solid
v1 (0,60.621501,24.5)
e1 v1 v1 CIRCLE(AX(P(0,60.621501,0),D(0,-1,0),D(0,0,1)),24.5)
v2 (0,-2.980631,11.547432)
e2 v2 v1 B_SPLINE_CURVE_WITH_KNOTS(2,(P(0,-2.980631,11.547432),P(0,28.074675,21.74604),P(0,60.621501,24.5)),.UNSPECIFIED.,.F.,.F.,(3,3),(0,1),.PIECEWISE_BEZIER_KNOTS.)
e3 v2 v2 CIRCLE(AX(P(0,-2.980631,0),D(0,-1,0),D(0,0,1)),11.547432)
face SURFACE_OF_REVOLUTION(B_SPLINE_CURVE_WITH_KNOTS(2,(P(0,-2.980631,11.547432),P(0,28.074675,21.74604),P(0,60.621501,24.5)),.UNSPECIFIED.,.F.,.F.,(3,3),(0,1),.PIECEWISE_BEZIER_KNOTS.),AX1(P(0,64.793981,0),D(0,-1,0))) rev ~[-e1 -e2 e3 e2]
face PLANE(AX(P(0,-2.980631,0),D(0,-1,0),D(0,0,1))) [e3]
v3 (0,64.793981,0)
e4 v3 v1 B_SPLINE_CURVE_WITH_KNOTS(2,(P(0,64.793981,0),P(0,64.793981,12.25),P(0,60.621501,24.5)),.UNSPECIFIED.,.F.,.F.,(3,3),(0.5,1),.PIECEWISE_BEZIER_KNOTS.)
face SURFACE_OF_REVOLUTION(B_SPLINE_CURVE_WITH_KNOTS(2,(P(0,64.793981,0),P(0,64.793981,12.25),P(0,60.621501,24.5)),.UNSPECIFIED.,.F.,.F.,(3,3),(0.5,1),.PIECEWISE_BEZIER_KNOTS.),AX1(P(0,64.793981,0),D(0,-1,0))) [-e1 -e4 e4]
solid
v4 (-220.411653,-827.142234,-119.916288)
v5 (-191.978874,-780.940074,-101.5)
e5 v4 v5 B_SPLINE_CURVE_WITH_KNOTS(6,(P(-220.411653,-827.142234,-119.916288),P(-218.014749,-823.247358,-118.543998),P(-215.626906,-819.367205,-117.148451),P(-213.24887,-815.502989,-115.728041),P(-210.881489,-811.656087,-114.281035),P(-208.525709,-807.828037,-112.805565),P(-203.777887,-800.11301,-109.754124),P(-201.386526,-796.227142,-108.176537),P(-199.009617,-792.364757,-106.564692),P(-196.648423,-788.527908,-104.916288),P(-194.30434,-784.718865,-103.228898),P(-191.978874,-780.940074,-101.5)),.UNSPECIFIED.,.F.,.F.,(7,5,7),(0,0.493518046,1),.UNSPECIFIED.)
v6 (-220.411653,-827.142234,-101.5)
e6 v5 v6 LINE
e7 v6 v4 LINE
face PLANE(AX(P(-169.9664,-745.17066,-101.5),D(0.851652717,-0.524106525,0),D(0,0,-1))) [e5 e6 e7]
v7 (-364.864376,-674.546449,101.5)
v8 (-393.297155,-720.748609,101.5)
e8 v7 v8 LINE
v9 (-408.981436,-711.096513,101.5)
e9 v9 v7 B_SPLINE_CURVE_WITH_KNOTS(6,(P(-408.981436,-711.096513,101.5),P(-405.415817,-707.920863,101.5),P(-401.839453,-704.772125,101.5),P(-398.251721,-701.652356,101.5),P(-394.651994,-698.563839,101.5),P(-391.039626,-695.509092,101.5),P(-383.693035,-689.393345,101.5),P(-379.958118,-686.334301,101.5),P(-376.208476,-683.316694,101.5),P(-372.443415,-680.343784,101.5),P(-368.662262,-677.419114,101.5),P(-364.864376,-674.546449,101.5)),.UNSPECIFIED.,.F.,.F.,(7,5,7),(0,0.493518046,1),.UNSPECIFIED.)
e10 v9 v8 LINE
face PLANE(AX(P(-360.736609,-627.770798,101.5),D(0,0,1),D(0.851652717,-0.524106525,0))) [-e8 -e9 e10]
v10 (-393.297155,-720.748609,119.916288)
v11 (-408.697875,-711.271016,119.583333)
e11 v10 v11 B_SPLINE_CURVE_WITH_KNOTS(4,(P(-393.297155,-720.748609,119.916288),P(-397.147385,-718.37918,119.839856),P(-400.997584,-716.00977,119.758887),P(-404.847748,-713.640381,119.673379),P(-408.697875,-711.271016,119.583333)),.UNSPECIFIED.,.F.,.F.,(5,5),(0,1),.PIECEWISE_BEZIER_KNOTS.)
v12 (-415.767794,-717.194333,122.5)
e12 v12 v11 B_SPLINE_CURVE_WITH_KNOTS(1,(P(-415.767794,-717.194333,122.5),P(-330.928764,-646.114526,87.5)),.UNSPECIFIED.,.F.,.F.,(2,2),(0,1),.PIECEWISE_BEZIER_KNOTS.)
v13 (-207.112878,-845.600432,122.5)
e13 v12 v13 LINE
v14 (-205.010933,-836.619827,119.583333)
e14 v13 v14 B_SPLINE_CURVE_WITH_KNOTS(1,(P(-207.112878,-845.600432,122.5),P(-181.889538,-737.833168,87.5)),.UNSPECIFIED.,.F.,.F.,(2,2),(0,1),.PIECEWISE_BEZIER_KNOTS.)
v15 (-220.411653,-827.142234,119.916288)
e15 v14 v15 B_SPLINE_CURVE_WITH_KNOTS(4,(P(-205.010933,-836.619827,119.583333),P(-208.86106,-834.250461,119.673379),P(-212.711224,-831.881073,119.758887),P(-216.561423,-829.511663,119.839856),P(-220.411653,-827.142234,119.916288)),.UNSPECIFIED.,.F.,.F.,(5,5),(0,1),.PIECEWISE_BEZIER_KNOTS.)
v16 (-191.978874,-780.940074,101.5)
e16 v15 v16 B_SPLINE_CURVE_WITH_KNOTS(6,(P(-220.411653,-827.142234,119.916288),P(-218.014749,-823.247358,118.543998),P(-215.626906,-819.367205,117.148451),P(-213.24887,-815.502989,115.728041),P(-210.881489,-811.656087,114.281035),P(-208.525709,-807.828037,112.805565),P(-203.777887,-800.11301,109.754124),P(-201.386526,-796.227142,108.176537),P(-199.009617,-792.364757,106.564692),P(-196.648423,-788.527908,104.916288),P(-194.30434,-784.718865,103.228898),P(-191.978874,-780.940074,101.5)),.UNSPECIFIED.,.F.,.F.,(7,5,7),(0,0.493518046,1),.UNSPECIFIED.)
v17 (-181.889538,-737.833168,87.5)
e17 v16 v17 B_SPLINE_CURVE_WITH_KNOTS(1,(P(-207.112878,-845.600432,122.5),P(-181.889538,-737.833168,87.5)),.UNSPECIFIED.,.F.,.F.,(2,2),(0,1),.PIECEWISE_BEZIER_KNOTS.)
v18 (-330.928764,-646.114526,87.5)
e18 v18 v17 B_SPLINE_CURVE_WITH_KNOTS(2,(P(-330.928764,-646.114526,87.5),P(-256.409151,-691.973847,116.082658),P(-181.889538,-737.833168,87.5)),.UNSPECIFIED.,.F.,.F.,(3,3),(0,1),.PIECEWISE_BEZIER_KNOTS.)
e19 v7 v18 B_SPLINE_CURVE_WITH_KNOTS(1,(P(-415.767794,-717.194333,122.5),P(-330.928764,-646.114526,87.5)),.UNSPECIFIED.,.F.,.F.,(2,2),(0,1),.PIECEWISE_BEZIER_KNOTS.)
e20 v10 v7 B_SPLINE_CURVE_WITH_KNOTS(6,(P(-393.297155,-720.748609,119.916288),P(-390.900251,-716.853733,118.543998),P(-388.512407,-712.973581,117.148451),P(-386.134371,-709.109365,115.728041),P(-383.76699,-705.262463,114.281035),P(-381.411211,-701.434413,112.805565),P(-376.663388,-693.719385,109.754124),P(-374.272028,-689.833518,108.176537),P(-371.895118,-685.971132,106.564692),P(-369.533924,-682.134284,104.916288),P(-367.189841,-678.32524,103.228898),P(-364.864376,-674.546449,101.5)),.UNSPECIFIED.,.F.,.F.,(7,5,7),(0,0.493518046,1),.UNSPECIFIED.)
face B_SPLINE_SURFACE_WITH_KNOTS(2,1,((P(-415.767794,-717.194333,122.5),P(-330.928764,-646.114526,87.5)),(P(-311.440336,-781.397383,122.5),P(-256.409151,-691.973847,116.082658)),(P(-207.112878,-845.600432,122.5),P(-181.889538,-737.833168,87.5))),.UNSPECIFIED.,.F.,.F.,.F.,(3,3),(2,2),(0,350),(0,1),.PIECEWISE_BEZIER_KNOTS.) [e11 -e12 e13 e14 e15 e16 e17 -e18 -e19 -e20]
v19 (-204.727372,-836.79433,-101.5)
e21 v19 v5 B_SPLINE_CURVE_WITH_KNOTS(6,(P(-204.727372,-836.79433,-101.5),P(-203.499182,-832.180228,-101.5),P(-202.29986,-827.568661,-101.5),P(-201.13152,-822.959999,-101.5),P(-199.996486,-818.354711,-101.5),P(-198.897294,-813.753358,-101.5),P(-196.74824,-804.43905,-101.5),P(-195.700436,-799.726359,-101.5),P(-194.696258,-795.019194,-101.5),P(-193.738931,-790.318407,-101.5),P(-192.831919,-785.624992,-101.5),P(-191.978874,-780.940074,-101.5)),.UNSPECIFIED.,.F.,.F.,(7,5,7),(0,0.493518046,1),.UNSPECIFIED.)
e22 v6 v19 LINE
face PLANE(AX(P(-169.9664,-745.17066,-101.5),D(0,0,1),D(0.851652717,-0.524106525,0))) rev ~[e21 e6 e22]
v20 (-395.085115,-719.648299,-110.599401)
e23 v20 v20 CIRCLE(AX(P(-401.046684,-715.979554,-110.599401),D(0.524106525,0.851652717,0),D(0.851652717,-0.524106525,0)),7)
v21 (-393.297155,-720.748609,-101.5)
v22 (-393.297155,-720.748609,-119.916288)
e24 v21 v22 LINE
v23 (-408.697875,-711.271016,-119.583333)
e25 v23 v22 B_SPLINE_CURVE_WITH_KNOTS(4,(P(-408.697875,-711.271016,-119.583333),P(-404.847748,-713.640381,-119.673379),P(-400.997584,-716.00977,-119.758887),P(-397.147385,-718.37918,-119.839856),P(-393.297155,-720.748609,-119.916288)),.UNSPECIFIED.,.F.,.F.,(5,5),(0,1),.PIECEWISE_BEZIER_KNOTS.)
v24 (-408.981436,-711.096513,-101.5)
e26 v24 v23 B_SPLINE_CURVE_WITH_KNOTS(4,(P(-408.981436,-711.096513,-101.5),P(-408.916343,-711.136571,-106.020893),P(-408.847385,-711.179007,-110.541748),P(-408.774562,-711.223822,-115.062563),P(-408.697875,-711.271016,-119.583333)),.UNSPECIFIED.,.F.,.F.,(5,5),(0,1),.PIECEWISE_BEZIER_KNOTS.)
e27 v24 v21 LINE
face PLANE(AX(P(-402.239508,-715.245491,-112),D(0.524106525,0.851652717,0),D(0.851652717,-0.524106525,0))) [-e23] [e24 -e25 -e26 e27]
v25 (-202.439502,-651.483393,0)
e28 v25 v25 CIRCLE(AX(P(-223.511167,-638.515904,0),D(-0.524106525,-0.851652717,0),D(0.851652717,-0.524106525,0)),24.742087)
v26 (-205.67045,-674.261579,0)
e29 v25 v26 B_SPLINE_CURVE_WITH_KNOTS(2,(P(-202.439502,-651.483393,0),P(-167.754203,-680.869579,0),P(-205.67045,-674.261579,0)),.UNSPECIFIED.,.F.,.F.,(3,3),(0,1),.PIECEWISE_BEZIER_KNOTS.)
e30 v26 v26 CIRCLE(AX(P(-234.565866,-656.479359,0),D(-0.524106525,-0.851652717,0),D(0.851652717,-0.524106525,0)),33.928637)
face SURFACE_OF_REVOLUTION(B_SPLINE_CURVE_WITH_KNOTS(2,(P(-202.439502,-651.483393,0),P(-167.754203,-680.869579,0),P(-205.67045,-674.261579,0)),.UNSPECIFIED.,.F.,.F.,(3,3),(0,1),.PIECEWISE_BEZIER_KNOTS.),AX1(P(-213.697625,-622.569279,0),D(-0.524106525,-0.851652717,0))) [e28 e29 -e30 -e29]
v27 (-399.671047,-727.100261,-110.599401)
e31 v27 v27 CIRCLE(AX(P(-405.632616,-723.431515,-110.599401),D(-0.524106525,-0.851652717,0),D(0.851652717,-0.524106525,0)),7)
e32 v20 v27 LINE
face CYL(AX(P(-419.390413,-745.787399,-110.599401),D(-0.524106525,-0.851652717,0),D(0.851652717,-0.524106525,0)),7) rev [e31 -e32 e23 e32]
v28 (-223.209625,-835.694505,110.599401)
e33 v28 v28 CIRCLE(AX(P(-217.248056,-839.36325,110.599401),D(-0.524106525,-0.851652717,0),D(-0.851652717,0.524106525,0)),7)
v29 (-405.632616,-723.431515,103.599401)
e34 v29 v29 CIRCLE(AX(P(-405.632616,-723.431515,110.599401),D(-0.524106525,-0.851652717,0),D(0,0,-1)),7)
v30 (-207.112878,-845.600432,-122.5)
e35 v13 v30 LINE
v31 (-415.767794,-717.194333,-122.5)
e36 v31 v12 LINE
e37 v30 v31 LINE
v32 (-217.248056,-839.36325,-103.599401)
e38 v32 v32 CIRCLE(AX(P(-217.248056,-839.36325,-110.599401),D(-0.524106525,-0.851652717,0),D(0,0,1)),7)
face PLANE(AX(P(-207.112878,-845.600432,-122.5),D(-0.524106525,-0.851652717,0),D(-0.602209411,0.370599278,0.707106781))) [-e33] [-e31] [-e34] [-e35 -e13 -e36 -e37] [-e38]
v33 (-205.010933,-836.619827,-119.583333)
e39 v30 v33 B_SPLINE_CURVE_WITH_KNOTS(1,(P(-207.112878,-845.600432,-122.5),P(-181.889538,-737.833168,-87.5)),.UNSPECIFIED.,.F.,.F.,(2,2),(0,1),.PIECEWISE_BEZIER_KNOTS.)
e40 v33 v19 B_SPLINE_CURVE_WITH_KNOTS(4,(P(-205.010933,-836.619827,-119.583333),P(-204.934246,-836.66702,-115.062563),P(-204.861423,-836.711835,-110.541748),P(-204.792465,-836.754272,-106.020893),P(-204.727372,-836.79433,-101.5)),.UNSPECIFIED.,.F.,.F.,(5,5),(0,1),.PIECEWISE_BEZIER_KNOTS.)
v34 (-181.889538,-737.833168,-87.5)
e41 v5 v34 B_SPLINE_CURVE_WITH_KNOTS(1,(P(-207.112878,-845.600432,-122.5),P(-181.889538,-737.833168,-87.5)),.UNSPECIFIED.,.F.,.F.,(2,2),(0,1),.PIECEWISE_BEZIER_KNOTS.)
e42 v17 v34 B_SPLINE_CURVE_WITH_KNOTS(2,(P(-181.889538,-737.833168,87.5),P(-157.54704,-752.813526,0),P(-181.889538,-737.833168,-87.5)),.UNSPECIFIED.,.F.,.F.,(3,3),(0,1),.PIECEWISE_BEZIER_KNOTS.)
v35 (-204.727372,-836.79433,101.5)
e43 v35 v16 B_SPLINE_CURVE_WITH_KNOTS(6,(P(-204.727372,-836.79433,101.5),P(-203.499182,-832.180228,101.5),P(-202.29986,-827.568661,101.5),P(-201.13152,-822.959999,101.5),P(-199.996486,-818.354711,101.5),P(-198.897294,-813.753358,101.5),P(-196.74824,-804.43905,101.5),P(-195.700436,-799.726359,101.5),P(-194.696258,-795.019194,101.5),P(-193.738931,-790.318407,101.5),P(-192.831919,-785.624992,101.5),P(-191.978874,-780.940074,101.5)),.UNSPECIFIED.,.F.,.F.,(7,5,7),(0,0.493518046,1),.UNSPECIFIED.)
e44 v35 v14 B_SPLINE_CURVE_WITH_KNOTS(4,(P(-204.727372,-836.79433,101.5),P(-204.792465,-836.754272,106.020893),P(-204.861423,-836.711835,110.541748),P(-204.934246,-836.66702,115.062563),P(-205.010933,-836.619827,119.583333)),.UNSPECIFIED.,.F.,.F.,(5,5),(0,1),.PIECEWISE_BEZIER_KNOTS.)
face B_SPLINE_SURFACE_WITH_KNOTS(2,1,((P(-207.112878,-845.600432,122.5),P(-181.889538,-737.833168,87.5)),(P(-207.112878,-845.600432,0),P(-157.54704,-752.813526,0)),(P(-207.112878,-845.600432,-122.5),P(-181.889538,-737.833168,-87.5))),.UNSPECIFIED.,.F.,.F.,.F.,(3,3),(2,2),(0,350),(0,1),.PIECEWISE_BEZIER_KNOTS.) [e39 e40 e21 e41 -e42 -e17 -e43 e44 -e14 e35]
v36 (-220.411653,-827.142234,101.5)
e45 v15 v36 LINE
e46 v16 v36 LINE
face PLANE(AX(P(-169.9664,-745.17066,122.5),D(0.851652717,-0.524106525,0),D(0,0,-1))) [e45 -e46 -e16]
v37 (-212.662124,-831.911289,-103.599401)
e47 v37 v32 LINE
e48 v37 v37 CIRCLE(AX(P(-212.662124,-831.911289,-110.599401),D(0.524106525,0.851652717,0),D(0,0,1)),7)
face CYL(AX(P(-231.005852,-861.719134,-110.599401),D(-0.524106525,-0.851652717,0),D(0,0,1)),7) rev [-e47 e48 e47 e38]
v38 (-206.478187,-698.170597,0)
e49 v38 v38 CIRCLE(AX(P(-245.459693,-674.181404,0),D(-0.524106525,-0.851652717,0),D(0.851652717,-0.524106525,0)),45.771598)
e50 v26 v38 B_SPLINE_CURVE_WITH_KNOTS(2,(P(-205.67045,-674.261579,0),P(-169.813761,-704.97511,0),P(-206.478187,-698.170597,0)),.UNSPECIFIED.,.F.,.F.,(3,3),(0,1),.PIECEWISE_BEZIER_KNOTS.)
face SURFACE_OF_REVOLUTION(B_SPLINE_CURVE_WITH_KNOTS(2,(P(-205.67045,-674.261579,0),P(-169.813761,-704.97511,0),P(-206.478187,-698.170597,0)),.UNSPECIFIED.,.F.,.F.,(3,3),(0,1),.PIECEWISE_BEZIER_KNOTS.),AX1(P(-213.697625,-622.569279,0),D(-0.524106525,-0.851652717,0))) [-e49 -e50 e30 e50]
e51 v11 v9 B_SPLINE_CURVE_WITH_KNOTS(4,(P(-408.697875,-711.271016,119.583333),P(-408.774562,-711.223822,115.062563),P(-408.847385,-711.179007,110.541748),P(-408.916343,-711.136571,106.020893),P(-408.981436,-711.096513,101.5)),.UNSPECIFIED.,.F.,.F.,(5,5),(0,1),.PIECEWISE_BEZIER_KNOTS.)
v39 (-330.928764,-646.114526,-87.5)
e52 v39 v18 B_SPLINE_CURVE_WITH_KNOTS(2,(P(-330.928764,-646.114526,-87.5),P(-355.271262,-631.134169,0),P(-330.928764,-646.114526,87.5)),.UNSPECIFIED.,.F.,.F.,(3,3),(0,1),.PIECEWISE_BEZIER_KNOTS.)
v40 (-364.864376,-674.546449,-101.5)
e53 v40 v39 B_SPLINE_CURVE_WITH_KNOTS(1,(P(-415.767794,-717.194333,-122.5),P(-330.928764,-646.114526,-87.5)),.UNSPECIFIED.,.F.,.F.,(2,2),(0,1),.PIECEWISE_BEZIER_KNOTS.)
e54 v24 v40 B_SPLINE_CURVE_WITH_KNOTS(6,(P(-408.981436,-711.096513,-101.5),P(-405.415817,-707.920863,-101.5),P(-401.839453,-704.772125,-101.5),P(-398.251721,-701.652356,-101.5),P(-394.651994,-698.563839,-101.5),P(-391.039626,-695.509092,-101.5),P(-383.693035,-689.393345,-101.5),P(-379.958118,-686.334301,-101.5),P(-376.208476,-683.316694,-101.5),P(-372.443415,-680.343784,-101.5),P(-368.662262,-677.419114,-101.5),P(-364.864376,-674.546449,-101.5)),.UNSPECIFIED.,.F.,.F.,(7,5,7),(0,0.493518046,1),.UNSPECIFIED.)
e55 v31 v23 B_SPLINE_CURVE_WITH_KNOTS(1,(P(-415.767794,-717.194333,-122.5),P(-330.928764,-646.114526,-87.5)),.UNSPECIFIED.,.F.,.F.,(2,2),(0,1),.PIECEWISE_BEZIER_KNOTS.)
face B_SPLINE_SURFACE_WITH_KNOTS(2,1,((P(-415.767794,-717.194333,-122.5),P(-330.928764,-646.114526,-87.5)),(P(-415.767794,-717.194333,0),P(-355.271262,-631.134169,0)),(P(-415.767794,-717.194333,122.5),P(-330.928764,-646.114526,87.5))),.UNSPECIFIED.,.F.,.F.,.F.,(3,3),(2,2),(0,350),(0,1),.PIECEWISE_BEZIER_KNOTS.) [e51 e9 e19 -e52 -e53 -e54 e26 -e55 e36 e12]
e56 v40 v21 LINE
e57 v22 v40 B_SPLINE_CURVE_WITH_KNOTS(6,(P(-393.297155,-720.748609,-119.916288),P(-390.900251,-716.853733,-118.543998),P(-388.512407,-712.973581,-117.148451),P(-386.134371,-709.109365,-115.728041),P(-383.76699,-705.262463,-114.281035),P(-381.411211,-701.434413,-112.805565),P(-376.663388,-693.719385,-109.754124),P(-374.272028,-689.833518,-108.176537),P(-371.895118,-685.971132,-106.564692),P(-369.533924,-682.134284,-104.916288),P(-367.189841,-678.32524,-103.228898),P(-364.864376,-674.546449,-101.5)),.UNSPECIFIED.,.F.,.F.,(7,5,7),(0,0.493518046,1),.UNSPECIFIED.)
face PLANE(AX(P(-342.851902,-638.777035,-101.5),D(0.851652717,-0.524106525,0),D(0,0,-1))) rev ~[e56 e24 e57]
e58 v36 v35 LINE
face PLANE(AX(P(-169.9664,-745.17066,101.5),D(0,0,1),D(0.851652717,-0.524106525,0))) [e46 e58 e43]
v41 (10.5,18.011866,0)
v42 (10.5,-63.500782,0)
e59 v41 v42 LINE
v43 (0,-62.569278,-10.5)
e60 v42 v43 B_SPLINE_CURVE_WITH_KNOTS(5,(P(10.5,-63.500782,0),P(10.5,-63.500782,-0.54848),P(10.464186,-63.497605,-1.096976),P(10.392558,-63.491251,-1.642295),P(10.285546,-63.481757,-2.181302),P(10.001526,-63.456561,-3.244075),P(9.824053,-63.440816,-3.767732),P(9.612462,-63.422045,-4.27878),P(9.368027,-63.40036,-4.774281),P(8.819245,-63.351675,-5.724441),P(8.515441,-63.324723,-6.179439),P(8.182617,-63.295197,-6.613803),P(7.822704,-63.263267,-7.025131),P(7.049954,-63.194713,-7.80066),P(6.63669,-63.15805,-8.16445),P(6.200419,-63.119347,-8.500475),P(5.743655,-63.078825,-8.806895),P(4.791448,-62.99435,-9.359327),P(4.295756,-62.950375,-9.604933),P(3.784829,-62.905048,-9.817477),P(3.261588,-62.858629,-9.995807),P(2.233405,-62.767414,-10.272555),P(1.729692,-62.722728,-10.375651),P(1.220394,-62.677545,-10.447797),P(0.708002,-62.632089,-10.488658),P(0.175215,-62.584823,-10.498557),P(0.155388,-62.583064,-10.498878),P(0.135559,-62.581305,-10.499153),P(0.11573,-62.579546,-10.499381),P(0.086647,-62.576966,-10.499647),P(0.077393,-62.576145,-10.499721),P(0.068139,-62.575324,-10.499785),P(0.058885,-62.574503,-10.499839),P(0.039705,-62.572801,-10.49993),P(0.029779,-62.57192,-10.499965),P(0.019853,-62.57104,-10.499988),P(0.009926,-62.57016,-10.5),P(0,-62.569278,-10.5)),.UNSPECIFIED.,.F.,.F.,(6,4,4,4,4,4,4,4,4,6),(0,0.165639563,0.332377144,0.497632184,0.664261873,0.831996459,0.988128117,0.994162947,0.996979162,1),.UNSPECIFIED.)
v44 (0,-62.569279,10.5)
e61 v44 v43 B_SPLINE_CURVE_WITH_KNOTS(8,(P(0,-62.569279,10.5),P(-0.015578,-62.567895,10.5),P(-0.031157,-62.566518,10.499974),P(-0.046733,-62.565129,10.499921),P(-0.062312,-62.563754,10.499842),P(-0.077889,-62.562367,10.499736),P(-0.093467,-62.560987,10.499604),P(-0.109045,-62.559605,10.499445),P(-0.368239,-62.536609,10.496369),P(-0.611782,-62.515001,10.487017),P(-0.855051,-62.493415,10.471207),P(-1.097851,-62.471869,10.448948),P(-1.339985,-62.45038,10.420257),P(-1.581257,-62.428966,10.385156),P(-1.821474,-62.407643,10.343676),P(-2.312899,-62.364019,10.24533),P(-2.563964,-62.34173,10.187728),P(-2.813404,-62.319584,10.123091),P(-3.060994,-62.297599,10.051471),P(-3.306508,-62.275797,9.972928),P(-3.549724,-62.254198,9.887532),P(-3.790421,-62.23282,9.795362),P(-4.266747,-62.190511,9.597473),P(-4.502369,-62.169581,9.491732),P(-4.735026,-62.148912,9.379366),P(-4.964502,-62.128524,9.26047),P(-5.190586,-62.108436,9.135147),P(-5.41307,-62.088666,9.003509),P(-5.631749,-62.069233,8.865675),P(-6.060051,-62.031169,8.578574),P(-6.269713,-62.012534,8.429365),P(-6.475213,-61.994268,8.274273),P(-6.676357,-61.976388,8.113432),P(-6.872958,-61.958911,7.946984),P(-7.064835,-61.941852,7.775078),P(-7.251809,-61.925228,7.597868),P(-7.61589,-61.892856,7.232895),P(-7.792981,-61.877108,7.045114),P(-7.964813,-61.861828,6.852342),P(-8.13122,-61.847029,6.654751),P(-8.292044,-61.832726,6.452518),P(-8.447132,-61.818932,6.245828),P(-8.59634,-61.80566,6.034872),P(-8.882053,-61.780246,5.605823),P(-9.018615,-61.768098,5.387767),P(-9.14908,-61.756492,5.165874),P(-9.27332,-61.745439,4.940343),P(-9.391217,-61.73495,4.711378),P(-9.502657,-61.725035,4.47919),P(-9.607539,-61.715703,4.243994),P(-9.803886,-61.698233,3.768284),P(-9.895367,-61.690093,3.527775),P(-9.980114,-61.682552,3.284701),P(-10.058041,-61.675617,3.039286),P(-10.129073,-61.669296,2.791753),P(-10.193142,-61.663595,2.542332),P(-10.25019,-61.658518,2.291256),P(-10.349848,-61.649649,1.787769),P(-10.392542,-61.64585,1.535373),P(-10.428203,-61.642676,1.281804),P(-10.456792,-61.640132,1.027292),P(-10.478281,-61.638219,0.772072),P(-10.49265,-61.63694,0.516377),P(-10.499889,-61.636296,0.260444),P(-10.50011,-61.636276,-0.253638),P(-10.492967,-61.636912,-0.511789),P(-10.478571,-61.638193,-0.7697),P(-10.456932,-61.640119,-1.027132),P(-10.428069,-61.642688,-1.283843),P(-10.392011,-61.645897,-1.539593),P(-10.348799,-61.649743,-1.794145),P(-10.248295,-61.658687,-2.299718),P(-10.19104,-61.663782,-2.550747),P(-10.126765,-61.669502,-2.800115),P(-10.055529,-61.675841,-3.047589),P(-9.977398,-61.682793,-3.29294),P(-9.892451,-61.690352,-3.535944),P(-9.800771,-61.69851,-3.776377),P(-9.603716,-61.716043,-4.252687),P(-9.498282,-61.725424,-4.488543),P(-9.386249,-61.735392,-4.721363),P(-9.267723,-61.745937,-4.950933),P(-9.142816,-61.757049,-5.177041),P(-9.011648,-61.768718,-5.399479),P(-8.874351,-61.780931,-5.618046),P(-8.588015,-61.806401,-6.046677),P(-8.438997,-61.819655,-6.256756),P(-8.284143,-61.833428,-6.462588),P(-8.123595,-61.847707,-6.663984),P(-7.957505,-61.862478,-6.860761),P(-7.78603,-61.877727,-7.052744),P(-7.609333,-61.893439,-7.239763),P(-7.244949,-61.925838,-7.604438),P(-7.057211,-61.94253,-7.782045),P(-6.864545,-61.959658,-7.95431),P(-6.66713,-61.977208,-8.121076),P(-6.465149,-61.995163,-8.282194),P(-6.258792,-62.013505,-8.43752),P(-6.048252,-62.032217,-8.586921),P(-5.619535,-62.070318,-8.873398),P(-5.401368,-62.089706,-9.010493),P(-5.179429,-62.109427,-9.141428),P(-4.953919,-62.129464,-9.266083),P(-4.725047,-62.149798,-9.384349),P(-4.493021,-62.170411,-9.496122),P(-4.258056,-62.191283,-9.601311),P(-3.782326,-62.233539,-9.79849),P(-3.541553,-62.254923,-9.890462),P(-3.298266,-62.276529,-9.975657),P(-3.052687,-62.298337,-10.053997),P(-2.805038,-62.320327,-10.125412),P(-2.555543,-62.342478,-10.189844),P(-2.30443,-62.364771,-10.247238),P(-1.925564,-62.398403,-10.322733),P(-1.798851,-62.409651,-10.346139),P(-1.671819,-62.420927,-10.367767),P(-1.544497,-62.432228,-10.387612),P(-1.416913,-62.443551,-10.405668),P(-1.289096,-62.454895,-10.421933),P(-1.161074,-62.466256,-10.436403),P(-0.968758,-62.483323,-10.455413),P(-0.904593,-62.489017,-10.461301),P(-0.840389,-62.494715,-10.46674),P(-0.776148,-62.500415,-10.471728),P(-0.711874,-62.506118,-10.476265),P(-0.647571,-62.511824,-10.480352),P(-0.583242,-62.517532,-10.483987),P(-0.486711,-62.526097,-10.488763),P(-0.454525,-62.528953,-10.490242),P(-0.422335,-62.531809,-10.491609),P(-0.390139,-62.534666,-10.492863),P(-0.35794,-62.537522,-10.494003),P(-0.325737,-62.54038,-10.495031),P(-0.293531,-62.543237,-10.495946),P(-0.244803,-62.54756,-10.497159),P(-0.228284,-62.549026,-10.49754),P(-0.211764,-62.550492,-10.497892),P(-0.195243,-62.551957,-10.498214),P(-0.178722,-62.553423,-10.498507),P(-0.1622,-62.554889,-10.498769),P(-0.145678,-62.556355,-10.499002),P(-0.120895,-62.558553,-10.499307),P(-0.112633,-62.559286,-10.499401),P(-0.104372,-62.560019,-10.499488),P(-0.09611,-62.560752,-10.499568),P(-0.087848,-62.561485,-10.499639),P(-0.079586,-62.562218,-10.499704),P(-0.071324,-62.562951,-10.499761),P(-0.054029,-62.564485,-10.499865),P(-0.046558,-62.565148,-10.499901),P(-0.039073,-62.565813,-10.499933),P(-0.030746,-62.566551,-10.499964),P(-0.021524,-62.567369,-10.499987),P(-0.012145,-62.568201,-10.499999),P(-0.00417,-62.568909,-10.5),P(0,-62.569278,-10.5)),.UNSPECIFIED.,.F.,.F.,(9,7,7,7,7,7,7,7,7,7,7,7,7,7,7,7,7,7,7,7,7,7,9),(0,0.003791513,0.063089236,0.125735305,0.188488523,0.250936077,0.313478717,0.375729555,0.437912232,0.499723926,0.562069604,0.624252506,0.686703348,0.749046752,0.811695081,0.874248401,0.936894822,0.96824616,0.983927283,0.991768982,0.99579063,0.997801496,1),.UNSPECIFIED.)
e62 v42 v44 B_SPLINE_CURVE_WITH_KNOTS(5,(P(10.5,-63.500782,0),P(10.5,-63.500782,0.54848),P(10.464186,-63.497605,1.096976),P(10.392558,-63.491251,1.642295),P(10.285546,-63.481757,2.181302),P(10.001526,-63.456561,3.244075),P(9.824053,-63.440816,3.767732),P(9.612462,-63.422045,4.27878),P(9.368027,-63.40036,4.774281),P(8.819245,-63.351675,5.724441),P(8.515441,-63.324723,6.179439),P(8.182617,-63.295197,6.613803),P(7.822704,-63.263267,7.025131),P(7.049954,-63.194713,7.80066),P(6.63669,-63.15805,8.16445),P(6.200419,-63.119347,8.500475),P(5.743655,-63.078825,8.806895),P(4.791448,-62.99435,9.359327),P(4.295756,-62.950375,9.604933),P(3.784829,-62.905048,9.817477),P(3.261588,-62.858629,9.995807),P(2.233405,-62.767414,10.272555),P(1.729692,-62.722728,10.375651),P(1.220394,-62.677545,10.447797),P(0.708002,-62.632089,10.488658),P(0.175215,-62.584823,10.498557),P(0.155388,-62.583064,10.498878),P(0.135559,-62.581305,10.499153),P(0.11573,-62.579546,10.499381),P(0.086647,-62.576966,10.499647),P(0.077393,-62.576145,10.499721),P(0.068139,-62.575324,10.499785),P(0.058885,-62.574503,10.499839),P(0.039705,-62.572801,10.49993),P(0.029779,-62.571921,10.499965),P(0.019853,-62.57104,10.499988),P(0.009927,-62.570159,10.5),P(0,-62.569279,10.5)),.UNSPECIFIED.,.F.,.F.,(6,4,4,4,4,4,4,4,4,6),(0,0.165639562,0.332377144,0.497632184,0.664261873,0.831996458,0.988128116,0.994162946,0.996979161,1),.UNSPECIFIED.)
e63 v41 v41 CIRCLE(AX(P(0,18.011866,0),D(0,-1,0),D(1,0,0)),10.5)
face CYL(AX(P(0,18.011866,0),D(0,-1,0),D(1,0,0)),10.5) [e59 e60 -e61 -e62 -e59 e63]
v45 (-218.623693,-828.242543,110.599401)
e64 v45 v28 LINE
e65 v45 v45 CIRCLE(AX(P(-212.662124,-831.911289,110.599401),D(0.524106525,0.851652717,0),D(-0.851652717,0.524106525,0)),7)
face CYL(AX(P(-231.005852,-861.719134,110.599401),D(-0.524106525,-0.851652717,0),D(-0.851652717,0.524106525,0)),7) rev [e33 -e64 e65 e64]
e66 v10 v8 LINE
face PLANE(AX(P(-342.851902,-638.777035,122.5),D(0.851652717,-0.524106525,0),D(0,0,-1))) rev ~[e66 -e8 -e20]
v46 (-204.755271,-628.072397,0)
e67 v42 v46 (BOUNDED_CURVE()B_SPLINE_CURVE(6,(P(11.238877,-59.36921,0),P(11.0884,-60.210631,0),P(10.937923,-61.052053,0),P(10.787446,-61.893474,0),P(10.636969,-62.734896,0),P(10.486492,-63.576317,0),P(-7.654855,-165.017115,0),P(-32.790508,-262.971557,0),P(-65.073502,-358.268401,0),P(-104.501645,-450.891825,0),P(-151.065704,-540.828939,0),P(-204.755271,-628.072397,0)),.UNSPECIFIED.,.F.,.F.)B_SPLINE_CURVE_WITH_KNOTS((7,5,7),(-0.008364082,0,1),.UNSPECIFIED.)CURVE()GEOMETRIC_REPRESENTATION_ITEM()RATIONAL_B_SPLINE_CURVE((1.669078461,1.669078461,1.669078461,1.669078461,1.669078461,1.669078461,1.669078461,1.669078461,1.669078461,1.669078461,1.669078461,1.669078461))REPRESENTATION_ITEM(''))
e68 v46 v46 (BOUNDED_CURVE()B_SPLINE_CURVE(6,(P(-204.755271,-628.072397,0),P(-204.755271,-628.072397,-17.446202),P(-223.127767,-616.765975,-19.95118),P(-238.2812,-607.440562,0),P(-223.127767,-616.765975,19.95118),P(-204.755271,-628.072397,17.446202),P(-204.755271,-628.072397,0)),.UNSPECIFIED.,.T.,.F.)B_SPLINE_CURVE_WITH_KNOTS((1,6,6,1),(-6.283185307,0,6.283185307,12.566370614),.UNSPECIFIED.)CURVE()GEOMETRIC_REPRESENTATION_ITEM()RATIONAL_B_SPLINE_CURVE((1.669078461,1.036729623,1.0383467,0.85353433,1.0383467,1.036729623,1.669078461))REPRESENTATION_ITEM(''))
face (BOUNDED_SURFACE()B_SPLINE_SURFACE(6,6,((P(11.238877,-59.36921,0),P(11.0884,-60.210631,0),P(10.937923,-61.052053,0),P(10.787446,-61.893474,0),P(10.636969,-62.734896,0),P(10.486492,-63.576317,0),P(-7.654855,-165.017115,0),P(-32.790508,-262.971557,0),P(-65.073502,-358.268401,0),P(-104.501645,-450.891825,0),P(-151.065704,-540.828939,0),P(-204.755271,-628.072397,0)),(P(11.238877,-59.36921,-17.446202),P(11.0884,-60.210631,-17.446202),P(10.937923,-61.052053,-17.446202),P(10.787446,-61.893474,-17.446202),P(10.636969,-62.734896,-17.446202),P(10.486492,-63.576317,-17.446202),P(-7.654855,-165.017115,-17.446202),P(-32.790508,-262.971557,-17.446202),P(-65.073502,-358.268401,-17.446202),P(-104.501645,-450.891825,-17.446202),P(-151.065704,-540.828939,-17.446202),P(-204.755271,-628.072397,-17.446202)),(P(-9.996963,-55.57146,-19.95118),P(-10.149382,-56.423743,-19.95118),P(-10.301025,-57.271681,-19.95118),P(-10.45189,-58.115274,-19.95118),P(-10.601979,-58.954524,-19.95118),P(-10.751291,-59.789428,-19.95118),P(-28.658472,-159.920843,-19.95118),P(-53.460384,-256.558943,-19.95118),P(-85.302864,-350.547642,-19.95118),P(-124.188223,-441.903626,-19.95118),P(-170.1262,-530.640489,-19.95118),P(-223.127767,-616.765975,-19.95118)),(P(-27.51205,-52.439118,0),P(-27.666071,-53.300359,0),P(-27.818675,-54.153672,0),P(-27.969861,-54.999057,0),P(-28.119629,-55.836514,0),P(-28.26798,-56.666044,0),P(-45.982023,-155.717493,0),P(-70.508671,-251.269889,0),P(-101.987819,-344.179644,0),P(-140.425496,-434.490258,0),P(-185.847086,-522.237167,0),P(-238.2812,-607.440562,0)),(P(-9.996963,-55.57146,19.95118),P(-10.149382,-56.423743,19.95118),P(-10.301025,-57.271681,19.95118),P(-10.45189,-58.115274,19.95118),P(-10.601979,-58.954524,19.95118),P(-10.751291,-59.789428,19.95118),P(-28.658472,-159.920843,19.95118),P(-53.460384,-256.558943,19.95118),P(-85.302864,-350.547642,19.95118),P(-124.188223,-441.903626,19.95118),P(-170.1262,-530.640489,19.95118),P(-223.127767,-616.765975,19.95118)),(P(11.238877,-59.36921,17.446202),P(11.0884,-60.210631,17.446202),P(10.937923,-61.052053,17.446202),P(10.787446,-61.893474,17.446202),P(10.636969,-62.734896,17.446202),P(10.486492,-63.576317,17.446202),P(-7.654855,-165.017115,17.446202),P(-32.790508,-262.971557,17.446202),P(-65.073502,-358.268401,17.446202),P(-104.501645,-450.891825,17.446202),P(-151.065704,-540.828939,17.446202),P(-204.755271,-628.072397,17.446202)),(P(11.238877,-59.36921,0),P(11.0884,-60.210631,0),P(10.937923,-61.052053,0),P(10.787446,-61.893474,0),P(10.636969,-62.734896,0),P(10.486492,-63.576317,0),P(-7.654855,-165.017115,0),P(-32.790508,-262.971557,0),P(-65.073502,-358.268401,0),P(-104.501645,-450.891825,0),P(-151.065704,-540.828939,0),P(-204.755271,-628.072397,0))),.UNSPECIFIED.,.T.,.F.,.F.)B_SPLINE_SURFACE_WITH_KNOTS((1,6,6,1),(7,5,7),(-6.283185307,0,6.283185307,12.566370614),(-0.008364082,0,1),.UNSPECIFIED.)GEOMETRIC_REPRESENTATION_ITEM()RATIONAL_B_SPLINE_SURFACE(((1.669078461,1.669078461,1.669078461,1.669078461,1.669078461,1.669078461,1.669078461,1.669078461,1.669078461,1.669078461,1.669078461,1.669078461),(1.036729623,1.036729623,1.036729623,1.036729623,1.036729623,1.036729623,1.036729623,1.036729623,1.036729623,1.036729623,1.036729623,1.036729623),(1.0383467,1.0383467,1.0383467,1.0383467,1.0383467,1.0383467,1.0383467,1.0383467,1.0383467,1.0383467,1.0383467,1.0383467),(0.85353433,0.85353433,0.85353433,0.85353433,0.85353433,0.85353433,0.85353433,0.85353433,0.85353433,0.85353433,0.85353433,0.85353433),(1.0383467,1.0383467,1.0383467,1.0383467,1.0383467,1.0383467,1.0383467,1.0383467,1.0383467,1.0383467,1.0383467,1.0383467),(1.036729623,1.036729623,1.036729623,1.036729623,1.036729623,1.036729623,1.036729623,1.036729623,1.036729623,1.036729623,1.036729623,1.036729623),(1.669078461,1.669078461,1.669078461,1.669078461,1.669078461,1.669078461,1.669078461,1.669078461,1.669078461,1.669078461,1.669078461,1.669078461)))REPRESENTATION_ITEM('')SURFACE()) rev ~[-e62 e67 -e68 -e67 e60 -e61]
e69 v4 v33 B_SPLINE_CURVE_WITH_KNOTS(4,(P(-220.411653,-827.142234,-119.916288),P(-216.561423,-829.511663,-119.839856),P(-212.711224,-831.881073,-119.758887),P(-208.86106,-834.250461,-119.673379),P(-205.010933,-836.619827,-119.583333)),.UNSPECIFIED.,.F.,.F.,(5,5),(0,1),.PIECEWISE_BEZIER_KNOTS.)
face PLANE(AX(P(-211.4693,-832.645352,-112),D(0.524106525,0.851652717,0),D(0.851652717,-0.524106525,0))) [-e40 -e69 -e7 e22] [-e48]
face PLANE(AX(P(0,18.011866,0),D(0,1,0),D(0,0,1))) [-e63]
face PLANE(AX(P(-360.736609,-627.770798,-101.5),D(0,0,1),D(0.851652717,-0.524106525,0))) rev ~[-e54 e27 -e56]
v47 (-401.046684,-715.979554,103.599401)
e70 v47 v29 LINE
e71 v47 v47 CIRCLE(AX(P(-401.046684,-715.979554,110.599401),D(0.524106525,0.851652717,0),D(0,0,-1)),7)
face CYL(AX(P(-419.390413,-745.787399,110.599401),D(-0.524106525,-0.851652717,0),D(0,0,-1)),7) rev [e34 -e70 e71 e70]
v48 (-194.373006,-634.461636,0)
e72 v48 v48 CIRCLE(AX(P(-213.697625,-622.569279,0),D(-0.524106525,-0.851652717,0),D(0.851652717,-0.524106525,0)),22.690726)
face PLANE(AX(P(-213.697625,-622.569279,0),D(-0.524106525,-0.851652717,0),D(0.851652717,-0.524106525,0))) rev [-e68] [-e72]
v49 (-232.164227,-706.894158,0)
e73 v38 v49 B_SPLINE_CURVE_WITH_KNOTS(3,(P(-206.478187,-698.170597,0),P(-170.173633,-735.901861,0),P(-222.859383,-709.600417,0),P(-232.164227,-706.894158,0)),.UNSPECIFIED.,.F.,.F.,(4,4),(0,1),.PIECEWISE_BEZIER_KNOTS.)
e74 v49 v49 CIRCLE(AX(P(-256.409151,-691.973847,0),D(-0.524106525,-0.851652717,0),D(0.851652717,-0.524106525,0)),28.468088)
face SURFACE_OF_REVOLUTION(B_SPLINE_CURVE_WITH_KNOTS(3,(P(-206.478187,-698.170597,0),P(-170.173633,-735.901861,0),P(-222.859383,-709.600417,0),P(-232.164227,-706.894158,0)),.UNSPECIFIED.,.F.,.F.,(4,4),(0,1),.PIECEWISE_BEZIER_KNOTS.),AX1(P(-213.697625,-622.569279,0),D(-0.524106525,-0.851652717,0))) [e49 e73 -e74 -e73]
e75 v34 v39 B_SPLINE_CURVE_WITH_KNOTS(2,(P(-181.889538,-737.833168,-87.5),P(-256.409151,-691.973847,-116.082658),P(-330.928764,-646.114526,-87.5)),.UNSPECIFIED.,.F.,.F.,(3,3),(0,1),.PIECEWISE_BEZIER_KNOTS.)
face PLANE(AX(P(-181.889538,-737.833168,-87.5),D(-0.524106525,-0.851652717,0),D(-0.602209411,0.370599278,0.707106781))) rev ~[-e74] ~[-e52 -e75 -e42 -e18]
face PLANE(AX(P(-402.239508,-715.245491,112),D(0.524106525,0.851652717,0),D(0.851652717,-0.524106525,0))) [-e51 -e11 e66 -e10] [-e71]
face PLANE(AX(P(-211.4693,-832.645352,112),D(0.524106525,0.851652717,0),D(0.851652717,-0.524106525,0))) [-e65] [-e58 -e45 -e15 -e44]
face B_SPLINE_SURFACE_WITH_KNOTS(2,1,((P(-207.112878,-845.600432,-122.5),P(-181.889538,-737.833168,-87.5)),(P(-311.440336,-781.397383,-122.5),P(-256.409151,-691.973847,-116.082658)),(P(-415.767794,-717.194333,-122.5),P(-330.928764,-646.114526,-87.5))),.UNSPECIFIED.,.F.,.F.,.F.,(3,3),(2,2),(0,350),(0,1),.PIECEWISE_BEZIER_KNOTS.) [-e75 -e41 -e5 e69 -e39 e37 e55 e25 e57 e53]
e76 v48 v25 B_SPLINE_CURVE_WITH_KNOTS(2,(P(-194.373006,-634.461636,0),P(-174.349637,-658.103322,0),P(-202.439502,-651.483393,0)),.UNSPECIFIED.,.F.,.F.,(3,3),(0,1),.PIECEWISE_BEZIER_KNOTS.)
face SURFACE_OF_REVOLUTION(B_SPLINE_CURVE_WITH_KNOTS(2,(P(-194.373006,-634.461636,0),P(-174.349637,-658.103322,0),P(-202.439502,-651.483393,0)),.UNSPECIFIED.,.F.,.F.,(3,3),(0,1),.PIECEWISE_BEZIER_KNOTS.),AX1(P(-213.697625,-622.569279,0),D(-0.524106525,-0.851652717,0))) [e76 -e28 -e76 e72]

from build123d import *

# Parameters (mm, degrees)
SKETCH2_R          = 15
SKETCH10_W         = 30
SKETCH10_H         = 30
CUT_EXTRUDE1_DEPTH = 137.5
SKETCH12_W         = 10
SKETCH12_H         = 100
CIRPATTERN2_COUNT  = 4
SCALE2_SCALE       = 0.7


with BuildPart() as part:
    # Sweep1: sweep along a path in Sketch1
    with BuildLine() as sweep1_path:  # in the path sketch's own coordinates; laid on its plane below (add() does not lay a ready-made edge on the line's plane)
        Line((0, 25.731237744), (0, -89.384683846))
        add(Edge.make_bspline(
            [(0, -89.384683846), (-76.619317519, -517.816197766), (-305.28232105, -889.384683846)],
            knots=[0, 0, 0, 1, 1, 1], degree=2))
    # Sketch2 → Sweep1 (sweep)
    with BuildSketch(Plane(origin=(0, 25.731237744, 0), x_dir=(1, 0, 0), z_dir=(0, 1, 0))):
        Circle(SKETCH2_R)
    sweep(path=Plane.XY * sweep1_path.line, transition=Transition.RIGHT)

    # Sketch6 → Revolve4 (revolve)
    with BuildSketch(Plane.XY):
        with BuildLine():
            Line((-305.28232105, -889.384683846), (-277.675722749, -906.373766402))
            add(Edge.make_bspline(
                [(-277.675722749, -906.373766402), (-249.070910555, -940.147602219), (-289.199287868, -930.690561742)],
                knots=[0, 0, 0, 1, 1, 1], degree=2))
            add(Edge.make_bspline(
                [(-289.199287868, -930.690561742), (-239.648861973, -972.670827058), (-293.814928413, -963.230827581)],
                knots=[0, 0, 0, 1, 1, 1], degree=2))
            add(Edge.make_bspline(
                [(-293.814928413, -963.230827581), (-242.591086587, -1007.107299785), (-294.968838549, -997.38656761)],
                knots=[0, 0, 0, 1, 1, 1], degree=2))
            add(Edge.make_bspline(
                [(-294.968838549, -997.38656761), (-243.105190588, -1051.288372841), (-318.370546703, -1013.714881987), (-331.663180878, -1009.84879708)],
                knots=[0, 0, 0, 0, 1, 1, 1, 1], degree=3))
            Line((-331.663180878, -1009.84879708), (-366.298787064, -988.534067666))
            Line((-366.298787064, -988.534067666), (-305.28232105, -889.384683846))
        make_face()
    revolve(axis=Axis((-305.28232105, -889.384683846, 0), (-0.5241065254030228, -0.8516527167983265, 0)))

    # Sketch9 → Loft1 section 0
    with BuildSketch(Plane(origin=(-620.472581818, -1008.243809973, 0), x_dir=(-0.8516527167983268, 0.5241065254030226, 0), z_dir=(-0.5241065254030226, -0.8516527167983268, 0))):
        with BuildLine():
            Line((-381.137798284, 175), (-31.137798284, 175))
            Line((-31.137798284, 175), (-31.137798284, -175))
            Line((-31.137798284, -175), (-381.137798284, -175))
            Line((-381.137798284, -175), (-381.137798284, 175))
        make_face()
    # Sketch7 → Loft1 section 1
    with BuildSketch(Plane(origin=(-541.856603007, -880.495902453, 0), x_dir=(0.8516527167983268, -0.5241065254030226, 0), z_dir=(-0.5241065254030226, -0.8516527167983268, 0))):
        with BuildLine():
            add(Edge.make_bspline(
                [(81.137798284, 125), (206.137798284, 165.832368504), (331.137798284, 125)],
                knots=[0, 0, 0, 1, 1, 1], degree=2))
            add(Edge.make_bspline(
                [(331.137798284, 125), (371.970166789, 0), (331.137798284, -125)],
                knots=[0, 0, 0, 1, 1, 1], degree=2))
            add(Edge.make_bspline(
                [(331.137798284, -125), (206.137798284, -165.832368504), (81.137798284, -125)],
                knots=[0, 0, 0, 1, 1, 1], degree=2))
            add(Edge.make_bspline(
                [(81.137798284, -125), (40.30542978, 0), (81.137798284, 125)],
                knots=[0, 0, 0, 1, 1, 1], degree=2))
        make_face()
    loft()

    # Sketch10 → Cut-Extrude1 (cut)
    with BuildSketch(Plane(origin=(-541.856603007, -880.495902453, 0), x_dir=(0.8516527167983269, -0.5241065254030225, 0), z_dir=(0.5241065254030224, 0.8516527167983268, 0))):
        with Locations((366.137798284, 160)):
            Rectangle(SKETCH10_W, SKETCH10_H)
        with Locations((46.137798284, 160)):
            Rectangle(SKETCH10_W, SKETCH10_H)
        with Locations((46.137798284, -160)):
            Rectangle(SKETCH10_W, SKETCH10_H)
        with Locations((366.137798284, -160)):
            Rectangle(SKETCH10_W, SKETCH10_H)
    extrude(amount=-CUT_EXTRUDE1_DEPTH, mode=Mode.SUBTRACT)

    # Sketch12 → Hole1 (revolve, cut)
    with BuildSketch(Plane(origin=(-303.803034153, -1188.444698552, 157.9991439), x_dir=(-0.8516527167983265, 0.5241065254030227, 0), z_dir=(0, 0, 1))):
        with Locations((5, 50)):
            Rectangle(SKETCH12_W, SKETCH12_H)
    hole1 = revolve(axis=Axis((-361.454751948, -1282.126497399, 157.9991439), (0.5241065254030226, 0.8516527167983267, 0)), mode=Mode.SUBTRACT)

    # CirPattern2: Hole1 ×4 about axis
    cirpattern2_axis = Axis((175.557815944, -108.038165213, 0), (0.5241065254030227, 0.8516527167983265, 0))
    for i in range(1, CIRPATTERN2_COUNT):
        add(hole1.rotate(cirpattern2_axis, i * 360 / CIRPATTERN2_COUNT), mode=Mode.SUBTRACT)


with BuildPart() as body_2:
    # Sketch4 → Revolve3 (revolve)
    with BuildSketch(Plane.XY, mode=Mode.PRIVATE) as revolve3_sk:
        with BuildLine():
            add(Edge.make_bspline(
                [(0, 92.562829817), (17.5, 92.562829817), (35, 86.602143734)],
                knots=[0.5, 0.5, 0.5, 1, 1, 1], degree=2))
            add(Edge.make_bspline(
                [(16.496331619, -4.258044121), (31.065771721, 40.106678991), (35, 86.602143734)],
                knots=[0, 0, 0, 1, 1, 1], degree=2))
            Line((16.496331619, -4.258044121), (0, -4.258044121))
            Line((0, -4.258044121), (0, 92.562829817))
        make_face()
    revolve(revolve3_sk.sketch.rotate(Axis((0, 92.562829817, 0), (0, -1, 0)), 90), axis=Axis((0, 92.562829817, 0), (0, -1, 0)))


with BuildPart() as body_2_1:
    # Scale2: scaled about (0, 0, 0)
    add(body_2.part.scale(SCALE2_SCALE))


with BuildPart() as part_1:
    # Scale2: scaled about (0, 0, 0)
    add(part.part.scale(SCALE2_SCALE))


solid = Compound([body_2_1.part, part_1.part])
